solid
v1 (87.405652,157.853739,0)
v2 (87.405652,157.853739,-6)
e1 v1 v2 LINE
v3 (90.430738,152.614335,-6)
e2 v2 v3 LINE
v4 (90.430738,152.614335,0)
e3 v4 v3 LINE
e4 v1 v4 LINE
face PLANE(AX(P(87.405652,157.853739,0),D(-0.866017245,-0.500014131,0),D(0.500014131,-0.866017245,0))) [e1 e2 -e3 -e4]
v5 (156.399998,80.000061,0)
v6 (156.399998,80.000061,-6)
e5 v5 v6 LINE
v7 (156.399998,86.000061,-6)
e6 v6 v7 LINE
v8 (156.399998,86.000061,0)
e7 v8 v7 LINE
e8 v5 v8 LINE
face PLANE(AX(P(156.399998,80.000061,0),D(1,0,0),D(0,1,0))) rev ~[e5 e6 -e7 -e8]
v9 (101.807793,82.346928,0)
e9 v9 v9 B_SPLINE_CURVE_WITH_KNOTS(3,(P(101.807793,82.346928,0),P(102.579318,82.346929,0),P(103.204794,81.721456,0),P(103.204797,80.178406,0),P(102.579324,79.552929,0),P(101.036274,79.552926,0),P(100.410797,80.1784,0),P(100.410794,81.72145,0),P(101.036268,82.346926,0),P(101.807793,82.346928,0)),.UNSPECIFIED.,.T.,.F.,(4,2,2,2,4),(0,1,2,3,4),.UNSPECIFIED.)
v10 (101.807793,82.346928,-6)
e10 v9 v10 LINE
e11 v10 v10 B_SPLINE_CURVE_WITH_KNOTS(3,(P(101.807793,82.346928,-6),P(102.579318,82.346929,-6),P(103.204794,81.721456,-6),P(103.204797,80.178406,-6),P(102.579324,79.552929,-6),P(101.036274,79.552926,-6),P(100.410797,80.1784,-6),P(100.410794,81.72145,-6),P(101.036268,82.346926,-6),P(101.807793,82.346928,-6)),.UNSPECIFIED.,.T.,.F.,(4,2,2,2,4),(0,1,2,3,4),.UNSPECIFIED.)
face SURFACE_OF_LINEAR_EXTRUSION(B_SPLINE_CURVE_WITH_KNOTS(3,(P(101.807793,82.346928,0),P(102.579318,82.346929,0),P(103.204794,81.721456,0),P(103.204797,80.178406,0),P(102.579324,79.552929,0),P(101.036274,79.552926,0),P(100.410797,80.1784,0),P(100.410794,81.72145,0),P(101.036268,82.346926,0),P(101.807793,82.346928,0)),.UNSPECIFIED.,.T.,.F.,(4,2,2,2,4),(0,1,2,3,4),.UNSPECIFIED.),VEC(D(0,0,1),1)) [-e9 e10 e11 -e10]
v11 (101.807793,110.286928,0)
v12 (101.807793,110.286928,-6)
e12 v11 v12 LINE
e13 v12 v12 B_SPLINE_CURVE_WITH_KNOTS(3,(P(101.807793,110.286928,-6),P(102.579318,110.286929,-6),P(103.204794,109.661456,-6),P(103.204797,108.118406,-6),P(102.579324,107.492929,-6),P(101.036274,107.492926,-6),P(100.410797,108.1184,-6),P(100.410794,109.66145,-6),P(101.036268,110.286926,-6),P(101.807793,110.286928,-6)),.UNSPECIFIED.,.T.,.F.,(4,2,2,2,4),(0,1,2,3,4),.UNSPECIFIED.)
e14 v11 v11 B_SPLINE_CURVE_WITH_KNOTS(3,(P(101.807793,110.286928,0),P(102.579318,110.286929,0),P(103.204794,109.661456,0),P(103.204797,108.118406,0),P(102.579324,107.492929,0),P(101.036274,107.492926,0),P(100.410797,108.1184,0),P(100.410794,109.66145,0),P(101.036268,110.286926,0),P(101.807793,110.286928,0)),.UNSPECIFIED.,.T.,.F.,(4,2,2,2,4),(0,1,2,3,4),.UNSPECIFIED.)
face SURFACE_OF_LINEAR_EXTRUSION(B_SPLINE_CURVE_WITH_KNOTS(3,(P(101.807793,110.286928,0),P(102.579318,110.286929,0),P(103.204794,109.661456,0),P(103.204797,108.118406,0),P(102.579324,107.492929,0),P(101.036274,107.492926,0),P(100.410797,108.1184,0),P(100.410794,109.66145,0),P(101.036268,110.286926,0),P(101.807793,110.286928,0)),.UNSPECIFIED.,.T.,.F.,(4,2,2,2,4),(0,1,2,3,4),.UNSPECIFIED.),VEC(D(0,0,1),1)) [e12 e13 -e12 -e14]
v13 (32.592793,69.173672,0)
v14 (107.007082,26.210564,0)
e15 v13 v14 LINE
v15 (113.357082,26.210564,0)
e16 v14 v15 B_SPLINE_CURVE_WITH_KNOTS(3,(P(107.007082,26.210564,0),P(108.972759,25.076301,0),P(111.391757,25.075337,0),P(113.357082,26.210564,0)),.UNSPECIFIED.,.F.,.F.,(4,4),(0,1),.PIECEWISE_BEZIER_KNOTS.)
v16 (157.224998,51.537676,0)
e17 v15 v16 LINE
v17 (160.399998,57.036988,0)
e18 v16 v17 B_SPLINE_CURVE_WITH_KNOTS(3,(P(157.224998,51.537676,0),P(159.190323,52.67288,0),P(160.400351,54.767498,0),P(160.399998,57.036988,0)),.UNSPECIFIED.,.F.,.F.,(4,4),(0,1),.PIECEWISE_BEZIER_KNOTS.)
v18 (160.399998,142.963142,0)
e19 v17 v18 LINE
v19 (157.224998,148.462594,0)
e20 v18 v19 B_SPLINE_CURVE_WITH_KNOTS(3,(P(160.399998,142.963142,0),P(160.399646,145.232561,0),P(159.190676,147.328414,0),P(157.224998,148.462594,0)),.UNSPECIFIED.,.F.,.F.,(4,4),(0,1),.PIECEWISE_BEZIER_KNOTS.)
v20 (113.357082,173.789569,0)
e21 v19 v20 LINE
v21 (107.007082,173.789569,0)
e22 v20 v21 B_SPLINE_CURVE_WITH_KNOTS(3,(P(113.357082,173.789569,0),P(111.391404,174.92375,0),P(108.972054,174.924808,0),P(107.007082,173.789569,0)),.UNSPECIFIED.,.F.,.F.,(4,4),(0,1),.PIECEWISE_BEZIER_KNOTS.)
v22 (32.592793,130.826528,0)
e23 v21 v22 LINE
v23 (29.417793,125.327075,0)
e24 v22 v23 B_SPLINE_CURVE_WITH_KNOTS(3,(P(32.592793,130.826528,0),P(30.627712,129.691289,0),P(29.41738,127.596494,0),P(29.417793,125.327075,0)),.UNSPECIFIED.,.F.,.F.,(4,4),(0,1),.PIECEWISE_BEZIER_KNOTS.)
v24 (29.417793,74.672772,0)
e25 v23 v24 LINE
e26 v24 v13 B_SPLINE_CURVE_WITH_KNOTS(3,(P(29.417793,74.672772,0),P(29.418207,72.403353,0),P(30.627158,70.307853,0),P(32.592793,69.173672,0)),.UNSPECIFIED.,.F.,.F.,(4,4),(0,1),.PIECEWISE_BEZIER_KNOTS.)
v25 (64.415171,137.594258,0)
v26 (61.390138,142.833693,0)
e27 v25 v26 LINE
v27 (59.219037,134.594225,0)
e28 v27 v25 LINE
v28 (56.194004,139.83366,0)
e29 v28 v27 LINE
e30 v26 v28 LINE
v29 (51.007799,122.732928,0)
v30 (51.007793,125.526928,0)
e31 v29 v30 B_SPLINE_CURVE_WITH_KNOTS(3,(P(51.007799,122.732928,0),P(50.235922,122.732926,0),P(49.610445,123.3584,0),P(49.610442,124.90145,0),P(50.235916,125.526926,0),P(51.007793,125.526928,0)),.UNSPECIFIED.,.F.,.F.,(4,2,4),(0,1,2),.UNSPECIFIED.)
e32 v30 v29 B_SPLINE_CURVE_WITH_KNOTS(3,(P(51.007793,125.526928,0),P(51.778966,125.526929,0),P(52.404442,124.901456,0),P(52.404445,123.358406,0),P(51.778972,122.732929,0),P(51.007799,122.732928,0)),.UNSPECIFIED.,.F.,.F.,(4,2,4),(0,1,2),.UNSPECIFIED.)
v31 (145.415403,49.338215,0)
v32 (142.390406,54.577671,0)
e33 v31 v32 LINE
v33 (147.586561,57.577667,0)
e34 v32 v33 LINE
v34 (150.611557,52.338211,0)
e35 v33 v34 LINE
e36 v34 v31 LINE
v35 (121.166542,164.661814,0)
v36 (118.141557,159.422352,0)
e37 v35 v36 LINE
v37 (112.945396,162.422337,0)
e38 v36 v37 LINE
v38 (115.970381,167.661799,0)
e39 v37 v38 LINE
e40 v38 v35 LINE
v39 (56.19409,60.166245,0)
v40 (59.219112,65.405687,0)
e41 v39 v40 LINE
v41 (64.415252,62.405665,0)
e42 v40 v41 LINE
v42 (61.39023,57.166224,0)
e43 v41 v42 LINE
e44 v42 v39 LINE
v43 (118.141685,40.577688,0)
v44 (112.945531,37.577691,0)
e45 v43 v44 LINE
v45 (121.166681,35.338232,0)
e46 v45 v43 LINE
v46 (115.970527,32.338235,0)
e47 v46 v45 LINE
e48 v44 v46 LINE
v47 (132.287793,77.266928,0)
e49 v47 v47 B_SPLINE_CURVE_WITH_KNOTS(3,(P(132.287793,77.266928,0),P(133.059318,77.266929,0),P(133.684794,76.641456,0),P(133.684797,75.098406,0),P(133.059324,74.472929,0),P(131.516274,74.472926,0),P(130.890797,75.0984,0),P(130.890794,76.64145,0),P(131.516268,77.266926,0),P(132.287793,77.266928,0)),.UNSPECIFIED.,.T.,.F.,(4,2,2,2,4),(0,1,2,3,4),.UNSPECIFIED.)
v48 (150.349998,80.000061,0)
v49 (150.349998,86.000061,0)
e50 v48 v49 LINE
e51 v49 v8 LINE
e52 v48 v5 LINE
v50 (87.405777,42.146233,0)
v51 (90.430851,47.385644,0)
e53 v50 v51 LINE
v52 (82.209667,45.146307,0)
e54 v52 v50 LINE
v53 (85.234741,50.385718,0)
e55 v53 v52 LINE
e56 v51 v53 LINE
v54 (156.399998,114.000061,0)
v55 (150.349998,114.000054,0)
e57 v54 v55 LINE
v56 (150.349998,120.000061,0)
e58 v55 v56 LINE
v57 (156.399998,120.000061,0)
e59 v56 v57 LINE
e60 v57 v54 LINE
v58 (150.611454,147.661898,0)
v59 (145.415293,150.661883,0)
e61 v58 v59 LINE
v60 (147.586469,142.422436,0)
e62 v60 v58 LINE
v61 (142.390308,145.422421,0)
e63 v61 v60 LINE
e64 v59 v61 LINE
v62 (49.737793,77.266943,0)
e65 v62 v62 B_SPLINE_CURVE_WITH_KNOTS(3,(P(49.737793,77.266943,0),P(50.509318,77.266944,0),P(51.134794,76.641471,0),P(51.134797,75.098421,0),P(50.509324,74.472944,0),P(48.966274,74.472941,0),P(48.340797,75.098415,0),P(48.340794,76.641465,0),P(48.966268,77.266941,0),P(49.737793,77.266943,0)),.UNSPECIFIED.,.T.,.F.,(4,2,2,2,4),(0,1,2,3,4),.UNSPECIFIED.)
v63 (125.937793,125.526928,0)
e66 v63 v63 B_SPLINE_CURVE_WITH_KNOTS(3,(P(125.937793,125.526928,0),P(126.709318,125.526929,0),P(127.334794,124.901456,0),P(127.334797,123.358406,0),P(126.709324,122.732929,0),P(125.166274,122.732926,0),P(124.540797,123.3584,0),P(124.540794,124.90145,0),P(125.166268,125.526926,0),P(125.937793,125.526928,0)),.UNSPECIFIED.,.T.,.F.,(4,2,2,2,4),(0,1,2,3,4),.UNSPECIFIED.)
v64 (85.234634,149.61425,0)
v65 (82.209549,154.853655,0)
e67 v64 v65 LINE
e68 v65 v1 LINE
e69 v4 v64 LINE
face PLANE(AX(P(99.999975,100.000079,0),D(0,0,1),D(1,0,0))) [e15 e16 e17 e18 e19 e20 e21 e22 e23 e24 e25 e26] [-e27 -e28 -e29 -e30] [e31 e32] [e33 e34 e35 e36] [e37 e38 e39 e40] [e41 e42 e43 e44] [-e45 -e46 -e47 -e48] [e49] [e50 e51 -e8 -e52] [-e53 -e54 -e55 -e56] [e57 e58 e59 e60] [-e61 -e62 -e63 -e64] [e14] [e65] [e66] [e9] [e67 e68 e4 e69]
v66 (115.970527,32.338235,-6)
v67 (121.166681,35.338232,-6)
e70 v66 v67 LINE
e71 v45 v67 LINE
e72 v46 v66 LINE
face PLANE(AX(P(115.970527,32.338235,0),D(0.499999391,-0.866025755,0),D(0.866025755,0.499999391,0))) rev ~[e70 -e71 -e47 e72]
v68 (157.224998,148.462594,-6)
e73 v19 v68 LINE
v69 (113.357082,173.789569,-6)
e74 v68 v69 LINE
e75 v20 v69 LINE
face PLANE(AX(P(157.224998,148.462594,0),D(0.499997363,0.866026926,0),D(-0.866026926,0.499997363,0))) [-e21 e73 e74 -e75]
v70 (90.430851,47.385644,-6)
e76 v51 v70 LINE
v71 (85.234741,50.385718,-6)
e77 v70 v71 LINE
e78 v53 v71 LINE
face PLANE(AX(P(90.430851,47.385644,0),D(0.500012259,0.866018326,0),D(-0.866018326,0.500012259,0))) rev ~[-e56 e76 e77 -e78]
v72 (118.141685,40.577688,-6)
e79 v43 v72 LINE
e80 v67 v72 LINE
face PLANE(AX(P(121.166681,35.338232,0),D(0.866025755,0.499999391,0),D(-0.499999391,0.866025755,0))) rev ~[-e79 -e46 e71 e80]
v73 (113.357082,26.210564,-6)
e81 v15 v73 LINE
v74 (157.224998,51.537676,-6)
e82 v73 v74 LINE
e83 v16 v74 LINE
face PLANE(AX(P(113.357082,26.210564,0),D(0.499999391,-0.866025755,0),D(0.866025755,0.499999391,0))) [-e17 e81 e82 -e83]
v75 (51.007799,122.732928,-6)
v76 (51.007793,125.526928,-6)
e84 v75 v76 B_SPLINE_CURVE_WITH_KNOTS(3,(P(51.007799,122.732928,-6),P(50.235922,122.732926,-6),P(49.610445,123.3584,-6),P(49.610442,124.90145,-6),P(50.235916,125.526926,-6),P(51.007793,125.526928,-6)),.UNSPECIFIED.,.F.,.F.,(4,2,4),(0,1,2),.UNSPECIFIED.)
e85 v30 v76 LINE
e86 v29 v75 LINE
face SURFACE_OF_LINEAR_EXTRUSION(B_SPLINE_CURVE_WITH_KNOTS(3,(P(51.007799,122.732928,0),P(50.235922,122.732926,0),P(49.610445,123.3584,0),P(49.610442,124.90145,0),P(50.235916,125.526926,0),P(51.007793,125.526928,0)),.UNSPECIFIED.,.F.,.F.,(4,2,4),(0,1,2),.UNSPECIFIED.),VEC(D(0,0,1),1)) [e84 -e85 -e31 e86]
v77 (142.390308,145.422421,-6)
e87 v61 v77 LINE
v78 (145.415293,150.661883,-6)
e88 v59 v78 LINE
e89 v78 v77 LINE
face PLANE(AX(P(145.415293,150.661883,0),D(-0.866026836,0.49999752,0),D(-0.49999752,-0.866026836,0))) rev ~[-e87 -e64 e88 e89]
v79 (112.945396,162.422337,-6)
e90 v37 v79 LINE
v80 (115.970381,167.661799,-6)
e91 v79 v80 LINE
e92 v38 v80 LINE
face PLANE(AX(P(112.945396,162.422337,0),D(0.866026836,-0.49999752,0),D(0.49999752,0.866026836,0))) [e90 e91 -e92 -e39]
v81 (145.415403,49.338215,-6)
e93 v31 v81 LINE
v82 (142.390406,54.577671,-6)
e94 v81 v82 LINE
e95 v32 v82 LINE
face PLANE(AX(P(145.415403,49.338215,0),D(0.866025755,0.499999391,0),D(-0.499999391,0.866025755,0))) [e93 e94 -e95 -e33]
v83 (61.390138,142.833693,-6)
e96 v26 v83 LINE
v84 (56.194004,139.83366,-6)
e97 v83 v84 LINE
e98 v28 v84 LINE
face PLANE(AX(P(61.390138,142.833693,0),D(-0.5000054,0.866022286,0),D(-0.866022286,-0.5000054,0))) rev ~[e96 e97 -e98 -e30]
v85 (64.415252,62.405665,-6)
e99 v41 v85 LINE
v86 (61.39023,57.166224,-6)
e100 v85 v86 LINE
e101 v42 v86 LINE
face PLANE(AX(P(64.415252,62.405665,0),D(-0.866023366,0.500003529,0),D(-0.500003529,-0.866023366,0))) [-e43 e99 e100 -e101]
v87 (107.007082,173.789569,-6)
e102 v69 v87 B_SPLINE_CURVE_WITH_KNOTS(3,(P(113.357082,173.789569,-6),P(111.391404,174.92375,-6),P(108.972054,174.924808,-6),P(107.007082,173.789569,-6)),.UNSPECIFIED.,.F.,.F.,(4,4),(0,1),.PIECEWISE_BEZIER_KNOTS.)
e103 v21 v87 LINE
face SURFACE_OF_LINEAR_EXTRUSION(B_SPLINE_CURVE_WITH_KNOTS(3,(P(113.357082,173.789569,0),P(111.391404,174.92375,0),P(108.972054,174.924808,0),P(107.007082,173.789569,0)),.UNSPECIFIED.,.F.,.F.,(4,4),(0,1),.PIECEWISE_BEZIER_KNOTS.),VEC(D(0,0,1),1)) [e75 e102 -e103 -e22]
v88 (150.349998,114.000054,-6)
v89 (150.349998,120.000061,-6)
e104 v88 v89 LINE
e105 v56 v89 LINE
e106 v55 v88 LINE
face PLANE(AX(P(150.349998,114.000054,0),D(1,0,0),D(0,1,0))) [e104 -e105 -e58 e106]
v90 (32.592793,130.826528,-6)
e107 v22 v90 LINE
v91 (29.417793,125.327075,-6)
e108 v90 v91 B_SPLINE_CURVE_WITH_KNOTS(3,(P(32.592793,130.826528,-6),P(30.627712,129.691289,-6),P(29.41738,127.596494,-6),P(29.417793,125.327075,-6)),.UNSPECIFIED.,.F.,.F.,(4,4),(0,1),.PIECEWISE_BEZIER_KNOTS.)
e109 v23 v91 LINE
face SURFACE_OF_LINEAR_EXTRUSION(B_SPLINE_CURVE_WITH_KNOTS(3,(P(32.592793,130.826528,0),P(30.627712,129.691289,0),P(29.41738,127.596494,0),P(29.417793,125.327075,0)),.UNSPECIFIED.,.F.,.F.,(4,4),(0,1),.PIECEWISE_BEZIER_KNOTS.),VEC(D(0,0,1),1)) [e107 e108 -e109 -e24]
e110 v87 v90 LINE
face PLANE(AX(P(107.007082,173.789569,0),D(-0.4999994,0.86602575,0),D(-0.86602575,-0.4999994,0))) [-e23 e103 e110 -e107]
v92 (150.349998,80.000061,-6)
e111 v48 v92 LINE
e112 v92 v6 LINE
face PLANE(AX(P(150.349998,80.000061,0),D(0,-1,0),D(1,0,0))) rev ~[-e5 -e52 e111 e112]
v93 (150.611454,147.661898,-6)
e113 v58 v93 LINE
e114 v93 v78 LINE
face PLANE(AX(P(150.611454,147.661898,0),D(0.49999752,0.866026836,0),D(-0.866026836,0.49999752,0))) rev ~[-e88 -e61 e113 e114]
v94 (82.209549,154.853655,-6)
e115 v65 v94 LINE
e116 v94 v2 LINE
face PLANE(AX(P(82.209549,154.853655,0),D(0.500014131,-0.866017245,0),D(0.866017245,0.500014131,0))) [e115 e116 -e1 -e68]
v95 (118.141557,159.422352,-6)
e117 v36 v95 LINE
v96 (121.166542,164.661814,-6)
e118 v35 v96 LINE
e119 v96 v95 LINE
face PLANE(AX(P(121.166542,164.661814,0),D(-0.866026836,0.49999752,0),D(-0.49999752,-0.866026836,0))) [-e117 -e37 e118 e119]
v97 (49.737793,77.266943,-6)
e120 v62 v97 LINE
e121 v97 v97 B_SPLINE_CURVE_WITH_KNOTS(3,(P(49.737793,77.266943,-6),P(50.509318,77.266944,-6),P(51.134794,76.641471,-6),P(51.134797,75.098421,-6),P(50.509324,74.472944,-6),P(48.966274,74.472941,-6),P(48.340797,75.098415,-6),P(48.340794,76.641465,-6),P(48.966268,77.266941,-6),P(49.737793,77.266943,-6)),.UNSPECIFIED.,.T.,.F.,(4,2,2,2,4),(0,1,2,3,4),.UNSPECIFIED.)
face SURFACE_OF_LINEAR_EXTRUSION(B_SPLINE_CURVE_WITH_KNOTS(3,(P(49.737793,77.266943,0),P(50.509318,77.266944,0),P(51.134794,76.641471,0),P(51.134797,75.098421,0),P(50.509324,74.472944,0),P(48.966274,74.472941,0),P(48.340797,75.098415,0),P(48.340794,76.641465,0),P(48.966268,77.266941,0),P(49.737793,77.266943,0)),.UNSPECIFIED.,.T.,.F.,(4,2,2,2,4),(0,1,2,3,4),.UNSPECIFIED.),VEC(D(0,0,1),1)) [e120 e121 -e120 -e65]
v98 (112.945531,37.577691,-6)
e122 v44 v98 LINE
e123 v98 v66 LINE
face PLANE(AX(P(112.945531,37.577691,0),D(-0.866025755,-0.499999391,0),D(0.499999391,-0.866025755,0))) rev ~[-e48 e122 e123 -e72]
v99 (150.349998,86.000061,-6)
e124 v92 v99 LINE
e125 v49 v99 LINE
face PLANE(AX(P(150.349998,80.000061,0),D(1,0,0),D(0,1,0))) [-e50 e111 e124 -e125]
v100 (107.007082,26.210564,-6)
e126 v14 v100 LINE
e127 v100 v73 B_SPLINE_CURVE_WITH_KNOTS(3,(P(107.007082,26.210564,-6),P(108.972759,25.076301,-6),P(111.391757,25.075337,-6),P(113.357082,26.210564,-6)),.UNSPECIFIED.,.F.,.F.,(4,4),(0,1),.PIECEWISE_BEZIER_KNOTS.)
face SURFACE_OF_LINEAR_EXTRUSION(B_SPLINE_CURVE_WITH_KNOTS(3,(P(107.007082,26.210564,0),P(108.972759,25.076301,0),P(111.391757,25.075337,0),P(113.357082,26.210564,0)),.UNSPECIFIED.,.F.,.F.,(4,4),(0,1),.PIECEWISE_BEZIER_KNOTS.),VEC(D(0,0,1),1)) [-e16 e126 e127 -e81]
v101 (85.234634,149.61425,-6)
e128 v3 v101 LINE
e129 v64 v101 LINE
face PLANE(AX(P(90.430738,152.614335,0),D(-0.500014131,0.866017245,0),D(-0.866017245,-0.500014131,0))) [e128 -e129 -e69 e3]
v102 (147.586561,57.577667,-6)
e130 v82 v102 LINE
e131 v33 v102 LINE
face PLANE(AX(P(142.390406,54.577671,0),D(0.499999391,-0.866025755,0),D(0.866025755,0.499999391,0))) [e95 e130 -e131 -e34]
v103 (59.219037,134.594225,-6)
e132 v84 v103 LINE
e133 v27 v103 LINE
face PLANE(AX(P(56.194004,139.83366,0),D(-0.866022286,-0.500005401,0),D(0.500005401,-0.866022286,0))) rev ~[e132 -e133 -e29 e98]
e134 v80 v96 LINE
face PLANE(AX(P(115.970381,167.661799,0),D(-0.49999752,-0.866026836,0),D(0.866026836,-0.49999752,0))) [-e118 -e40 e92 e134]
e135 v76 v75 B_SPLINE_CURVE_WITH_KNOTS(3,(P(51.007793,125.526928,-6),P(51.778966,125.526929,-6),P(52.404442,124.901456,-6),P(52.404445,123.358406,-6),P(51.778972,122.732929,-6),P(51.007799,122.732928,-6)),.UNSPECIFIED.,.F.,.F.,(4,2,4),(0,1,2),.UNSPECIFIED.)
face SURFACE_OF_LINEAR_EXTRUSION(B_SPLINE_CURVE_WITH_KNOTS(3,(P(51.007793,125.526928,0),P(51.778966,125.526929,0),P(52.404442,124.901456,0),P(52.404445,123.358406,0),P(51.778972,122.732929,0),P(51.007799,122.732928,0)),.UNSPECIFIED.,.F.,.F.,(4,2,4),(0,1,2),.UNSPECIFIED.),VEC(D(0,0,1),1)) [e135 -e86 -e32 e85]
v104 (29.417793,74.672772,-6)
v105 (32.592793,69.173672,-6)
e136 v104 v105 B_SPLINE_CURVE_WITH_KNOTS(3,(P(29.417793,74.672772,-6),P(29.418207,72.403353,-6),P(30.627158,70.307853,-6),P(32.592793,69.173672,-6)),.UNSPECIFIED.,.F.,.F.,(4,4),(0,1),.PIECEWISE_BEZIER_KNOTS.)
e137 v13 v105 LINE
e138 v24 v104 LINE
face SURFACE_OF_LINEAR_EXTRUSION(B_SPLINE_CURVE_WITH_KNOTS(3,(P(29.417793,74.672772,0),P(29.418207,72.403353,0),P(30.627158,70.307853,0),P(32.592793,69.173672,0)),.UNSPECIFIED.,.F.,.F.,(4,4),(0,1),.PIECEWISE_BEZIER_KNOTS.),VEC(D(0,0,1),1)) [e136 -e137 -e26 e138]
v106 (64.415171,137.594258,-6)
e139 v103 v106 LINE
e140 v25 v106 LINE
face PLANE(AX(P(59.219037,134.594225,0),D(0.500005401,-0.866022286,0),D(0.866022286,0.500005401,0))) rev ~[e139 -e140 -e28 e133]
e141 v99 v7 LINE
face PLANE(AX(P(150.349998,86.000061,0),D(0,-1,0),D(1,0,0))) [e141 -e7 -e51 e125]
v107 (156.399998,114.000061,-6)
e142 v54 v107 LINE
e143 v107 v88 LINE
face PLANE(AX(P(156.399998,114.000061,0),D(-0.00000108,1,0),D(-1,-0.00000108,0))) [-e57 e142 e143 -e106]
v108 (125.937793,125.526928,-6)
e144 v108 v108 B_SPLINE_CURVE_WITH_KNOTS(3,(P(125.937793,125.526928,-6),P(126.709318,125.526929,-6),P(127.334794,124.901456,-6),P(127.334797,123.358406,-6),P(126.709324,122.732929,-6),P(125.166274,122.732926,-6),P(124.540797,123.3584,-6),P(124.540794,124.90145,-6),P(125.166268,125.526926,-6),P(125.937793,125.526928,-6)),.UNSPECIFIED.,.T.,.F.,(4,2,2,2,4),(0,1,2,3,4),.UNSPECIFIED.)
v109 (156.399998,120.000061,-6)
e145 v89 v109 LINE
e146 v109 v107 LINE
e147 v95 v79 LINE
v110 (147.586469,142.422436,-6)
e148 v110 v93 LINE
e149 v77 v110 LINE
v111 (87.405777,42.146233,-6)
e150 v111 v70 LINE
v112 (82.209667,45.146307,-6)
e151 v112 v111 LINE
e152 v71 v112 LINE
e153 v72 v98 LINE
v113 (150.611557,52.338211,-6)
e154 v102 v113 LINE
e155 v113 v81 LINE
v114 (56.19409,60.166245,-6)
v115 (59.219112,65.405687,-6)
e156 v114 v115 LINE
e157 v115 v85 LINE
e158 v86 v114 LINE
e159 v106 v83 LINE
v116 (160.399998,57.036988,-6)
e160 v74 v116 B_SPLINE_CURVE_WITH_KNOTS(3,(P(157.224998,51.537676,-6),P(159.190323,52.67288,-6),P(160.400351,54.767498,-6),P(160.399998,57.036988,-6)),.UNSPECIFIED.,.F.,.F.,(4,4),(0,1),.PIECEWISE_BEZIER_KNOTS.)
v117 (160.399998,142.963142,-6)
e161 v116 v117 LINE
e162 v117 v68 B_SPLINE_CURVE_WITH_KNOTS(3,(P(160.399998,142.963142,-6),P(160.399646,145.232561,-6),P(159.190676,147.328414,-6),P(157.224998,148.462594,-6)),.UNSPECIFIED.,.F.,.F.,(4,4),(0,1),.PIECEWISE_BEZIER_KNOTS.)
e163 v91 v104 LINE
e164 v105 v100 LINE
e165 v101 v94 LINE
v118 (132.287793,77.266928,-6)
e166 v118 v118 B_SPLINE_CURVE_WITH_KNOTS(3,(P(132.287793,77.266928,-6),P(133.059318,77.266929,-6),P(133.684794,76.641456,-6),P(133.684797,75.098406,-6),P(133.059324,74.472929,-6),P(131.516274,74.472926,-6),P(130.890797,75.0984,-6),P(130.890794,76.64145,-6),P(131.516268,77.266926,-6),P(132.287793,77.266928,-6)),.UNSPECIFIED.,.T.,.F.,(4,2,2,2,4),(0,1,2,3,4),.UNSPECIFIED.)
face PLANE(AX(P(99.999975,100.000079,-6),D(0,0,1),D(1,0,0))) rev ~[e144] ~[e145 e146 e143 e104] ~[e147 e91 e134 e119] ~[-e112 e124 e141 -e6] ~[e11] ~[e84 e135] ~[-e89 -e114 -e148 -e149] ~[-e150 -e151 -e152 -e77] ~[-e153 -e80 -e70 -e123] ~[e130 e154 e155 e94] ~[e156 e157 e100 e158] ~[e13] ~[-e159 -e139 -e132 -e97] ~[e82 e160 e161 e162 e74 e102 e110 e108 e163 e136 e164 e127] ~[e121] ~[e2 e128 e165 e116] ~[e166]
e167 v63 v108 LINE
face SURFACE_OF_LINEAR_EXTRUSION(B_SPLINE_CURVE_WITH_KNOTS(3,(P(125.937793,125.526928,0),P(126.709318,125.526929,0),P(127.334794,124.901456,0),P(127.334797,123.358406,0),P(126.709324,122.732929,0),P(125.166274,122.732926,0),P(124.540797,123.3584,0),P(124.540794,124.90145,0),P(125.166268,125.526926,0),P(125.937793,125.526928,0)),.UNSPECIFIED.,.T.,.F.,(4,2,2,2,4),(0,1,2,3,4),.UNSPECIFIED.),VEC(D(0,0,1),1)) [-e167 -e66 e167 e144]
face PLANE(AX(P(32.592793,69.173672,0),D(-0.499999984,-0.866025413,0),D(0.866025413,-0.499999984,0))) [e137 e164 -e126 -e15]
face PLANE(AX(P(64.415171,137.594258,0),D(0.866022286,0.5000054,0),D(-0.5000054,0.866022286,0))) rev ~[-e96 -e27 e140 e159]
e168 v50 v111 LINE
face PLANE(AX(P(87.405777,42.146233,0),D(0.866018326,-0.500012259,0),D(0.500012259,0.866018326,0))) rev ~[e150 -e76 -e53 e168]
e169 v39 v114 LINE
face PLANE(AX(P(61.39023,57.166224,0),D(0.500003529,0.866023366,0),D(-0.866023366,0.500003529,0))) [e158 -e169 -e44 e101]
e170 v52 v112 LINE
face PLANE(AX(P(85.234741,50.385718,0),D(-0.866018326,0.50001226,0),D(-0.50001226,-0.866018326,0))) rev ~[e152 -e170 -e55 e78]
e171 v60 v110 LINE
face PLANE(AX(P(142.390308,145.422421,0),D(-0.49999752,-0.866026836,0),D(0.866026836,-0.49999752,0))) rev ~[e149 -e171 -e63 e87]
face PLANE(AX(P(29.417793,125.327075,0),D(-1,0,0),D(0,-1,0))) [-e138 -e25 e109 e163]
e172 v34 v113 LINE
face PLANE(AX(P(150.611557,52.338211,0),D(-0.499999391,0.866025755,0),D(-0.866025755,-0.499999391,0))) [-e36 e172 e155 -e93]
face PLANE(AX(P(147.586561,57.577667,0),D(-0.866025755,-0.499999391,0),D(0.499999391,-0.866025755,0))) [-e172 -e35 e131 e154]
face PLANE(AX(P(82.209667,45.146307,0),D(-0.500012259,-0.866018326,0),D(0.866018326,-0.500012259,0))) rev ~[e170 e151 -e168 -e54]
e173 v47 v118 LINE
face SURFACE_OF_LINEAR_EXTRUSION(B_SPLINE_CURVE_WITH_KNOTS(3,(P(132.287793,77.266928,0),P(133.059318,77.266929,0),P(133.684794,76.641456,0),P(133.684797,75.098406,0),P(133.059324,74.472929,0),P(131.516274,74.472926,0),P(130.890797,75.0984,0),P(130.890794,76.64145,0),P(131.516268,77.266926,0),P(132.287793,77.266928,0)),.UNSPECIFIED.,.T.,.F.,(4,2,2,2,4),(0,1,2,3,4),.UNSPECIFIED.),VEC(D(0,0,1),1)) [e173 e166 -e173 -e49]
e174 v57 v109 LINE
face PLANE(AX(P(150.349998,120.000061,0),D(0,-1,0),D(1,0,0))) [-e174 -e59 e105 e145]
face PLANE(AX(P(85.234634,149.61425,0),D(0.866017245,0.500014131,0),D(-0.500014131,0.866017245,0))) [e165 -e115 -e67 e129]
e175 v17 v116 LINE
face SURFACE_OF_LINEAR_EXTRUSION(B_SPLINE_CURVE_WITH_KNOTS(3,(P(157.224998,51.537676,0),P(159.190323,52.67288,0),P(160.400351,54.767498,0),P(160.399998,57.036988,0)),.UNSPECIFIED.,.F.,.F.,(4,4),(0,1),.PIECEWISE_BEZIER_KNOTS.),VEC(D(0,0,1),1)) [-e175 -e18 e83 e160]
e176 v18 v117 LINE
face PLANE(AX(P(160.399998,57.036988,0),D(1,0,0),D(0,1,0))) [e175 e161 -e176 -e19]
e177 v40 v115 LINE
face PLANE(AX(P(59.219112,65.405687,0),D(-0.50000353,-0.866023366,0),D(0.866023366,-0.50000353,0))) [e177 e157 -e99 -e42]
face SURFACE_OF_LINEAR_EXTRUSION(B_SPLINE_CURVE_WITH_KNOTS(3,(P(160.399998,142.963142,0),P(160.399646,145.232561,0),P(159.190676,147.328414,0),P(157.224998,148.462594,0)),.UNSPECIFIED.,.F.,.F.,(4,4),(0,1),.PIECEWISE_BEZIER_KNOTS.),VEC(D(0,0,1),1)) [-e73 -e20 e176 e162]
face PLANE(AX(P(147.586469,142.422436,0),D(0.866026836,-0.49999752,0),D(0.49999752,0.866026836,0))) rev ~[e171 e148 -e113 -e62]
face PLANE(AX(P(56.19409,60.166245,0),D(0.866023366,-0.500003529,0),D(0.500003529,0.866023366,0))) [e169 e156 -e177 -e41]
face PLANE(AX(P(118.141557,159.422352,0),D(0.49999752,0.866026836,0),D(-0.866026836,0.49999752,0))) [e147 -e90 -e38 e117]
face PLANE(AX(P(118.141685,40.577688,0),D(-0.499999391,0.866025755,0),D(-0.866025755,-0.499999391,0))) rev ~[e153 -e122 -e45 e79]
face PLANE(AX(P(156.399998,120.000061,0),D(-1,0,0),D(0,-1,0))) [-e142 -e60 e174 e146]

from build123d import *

# Parameters (mm, degrees)
CORTE_W                 = 6.05
CORTE_H                 = 6
SALIENTE_EXTRUIR1_DEPTH = 6


with BuildPart() as part:
    # Corte → Saliente-Extruir1 (new body)
    with BuildSketch(Plane.XY):
        with BuildLine():
            Line((113.357081542, 26.21056425), (157.224997542, 51.53767625))
            add(Edge.make_bspline(
                [(157.224997542, 51.53767625), (159.190322542, 52.67288025), (160.400350542, 54.76749825), (160.399997542, 57.03698825)],
                knots=[0, 0, 0, 0, 1, 1, 1, 1], degree=3))
            Line((160.399997542, 57.03698825), (160.399997542, 142.96314225))
            add(Edge.make_bspline(
                [(160.399997542, 142.96314225), (160.399645542, 145.23256125), (159.190675542, 147.32841425), (157.224997542, 148.46259425)],
                knots=[0, 0, 0, 0, 1, 1, 1, 1], degree=3))
            Line((157.224997542, 148.46259425), (113.357081542, 173.78956925))
            add(Edge.make_bspline(
                [(113.357081542, 173.78956925), (111.391403542, 174.92375025), (108.972053542, 174.92480825), (107.007081542, 173.78956925)],
                knots=[0, 0, 0, 0, 1, 1, 1, 1], degree=3))
            Line((107.007081542, 173.78956925), (32.592792542, 130.82652825))
            add(Edge.make_bspline(
                [(32.592792542, 130.82652825), (30.627711542, 129.69128925), (29.417379542, 127.59649425), (29.417792542, 125.32707525)],
                knots=[0, 0, 0, 0, 1, 1, 1, 1], degree=3))
            Line((29.417792542, 125.32707525), (29.417792542, 74.67277225))
            add(Edge.make_bspline(
                [(29.417792542, 74.67277225), (29.418206542, 72.40335325), (30.627157542, 70.30785325), (32.592792542, 69.17367225)],
                knots=[0, 0, 0, 0, 1, 1, 1, 1], degree=3))
            Line((32.592792542, 69.17367225), (107.007081542, 26.21056425))
            add(Edge.make_bspline(
                [(107.007081542, 26.21056425), (108.972758542, 25.07630125), (111.391756542, 25.07533725), (113.357081542, 26.21056425)],
                knots=[0, 0, 0, 0, 1, 1, 1, 1], degree=3))
        make_face()
        Polygon((82.209667177, 45.146306921), (87.405777131, 42.146233364), (90.430851301, 47.385644235), (85.234741347, 50.385717791), align=None, mode=Mode.SUBTRACT)
        Polygon((59.219111627, 65.405686508), (64.415251823, 62.405665331), (61.39023047, 57.166223967), (56.194090274, 60.166245143), align=None, mode=Mode.SUBTRACT)
        Polygon((115.970526872, 32.338235445), (121.166681404, 35.338231793), (118.141685086, 40.577687612), (112.945530555, 37.577691264), align=None, mode=Mode.SUBTRACT)
        Polygon((147.586560764, 57.577666916), (150.611557081, 52.338211097), (145.41540255, 49.338214749), (142.390406233, 54.577670568), align=None, mode=Mode.SUBTRACT)
        Polygon((59.219036883, 134.594225381), (64.415170597, 137.594257784), (61.390137924, 142.833692613), (56.194004209, 139.83366021), align=None, mode=Mode.SUBTRACT)
        Polygon((82.20954866, 154.853654641), (87.405652132, 157.853739425), (90.430737623, 152.61433509), (85.234634151, 149.614250307), align=None, mode=Mode.SUBTRACT)
        Polygon((112.945395686, 162.422336706), (115.970380683, 167.661799061), (121.166541696, 164.66181394), (118.141556699, 159.422351585), align=None, mode=Mode.SUBTRACT)
        Polygon((147.586469106, 142.422435899), (150.611454103, 147.661898254), (145.41529309, 150.661883375), (142.390308093, 145.42242102), align=None, mode=Mode.SUBTRACT)
        with Locations((153.374997542, 83.000060929)):
            Rectangle(CORTE_W, CORTE_H, mode=Mode.SUBTRACT)
        Polygon((150.349997542, 120.000060929), (156.399997542, 120.000060929), (156.399997542, 114.000060929), (150.349997542, 114.000054393), align=None, mode=Mode.SUBTRACT)
        with BuildLine():
            add(Edge.make_bspline(
                [(51.13479556, 75.869945702), (51.134797227, 75.098420702), (50.509323579, 74.47294435), (49.737798579, 74.472942683)],
                knots=[0, 0, 0, 0, 1, 1, 1, 1], degree=3))
            add(Edge.make_bspline(
                [(49.737798579, 74.472942683), (48.966273579, 74.472941016), (48.340797227, 75.098414665), (48.34079556, 75.869939665)],
                knots=[0, 0, 0, 0, 1, 1, 1, 1], degree=3))
            add(Edge.make_bspline(
                [(48.34079556, 75.869939665), (48.340793893, 76.641464665), (48.966267542, 77.266941016), (49.737792542, 77.266942683)],
                knots=[0, 0, 0, 0, 1, 1, 1, 1], degree=3))
            add(Edge.make_bspline(
                [(49.737792542, 77.266942683), (50.509317542, 77.26694435), (51.134793893, 76.641470702), (51.13479556, 75.869945702)],
                knots=[0, 0, 0, 0, 1, 1, 1, 1], degree=3))
        make_face(mode=Mode.SUBTRACT)
        with BuildLine():
            add(Edge.make_bspline(
                [(52.40444356, 124.12993061), (52.404445227, 123.35840561), (51.778971579, 122.732929259), (51.007798579, 122.732927592)],
                knots=[0, 0, 0, 0, 1, 1, 1, 1], degree=3))
            add(Edge.make_bspline(
                [(51.007798579, 122.732927592), (50.235921579, 122.732925925), (49.610445227, 123.358399573), (49.61044356, 124.129924573)],
                knots=[0, 0, 0, 0, 1, 1, 1, 1], degree=3))
            add(Edge.make_bspline(
                [(49.61044356, 124.129924573), (49.610441893, 124.901449573), (50.235915542, 125.526925925), (51.007792542, 125.526927592)],
                knots=[0, 0, 0, 0, 1, 1, 1, 1], degree=3))
            add(Edge.make_bspline(
                [(51.007792542, 125.526927592), (51.778965542, 125.526929259), (52.404441893, 124.90145561), (52.40444356, 124.12993061)],
                knots=[0, 0, 0, 0, 1, 1, 1, 1], degree=3))
        make_face(mode=Mode.SUBTRACT)
        with BuildLine():
            add(Edge.make_bspline(
                [(103.20479556, 108.88993061), (103.204797227, 108.11840561), (102.579323579, 107.492929259), (101.807798579, 107.492927592)],
                knots=[0, 0, 0, 0, 1, 1, 1, 1], degree=3))
            add(Edge.make_bspline(
                [(101.807798579, 107.492927592), (101.036273579, 107.492925925), (100.410797227, 108.118399573), (100.41079556, 108.889924573)],
                knots=[0, 0, 0, 0, 1, 1, 1, 1], degree=3))
            add(Edge.make_bspline(
                [(100.41079556, 108.889924573), (100.410793893, 109.661449573), (101.036267542, 110.286925925), (101.807792542, 110.286927592)],
                knots=[0, 0, 0, 0, 1, 1, 1, 1], degree=3))
            add(Edge.make_bspline(
                [(101.807792542, 110.286927592), (102.579317542, 110.286929259), (103.204793893, 109.66145561), (103.20479556, 108.88993061)],
                knots=[0, 0, 0, 0, 1, 1, 1, 1], degree=3))
        make_face(mode=Mode.SUBTRACT)
        with BuildLine():
            add(Edge.make_bspline(
                [(103.20479556, 80.94993061), (103.204797227, 80.17840561), (102.579323579, 79.552929259), (101.807798579, 79.552927592)],
                knots=[0, 0, 0, 0, 1, 1, 1, 1], degree=3))
            add(Edge.make_bspline(
                [(101.807798579, 79.552927592), (101.036273579, 79.552925925), (100.410797227, 80.178399573), (100.41079556, 80.949924573)],
                knots=[0, 0, 0, 0, 1, 1, 1, 1], degree=3))
            add(Edge.make_bspline(
                [(100.41079556, 80.949924573), (100.410793893, 81.721449573), (101.036267542, 82.346925925), (101.807792542, 82.346927592)],
                knots=[0, 0, 0, 0, 1, 1, 1, 1], degree=3))
            add(Edge.make_bspline(
                [(101.807792542, 82.346927592), (102.579317542, 82.346929259), (103.204793893, 81.72145561), (103.20479556, 80.94993061)],
                knots=[0, 0, 0, 0, 1, 1, 1, 1], degree=3))
        make_face(mode=Mode.SUBTRACT)
        with BuildLine():
            add(Edge.make_bspline(
                [(133.68479556, 75.86993061), (133.684797227, 75.09840561), (133.059323579, 74.472929259), (132.287798579, 74.472927592)],
                knots=[0, 0, 0, 0, 1, 1, 1, 1], degree=3))
            add(Edge.make_bspline(
                [(132.287798579, 74.472927592), (131.516273579, 74.472925925), (130.890797227, 75.098399573), (130.89079556, 75.869924573)],
                knots=[0, 0, 0, 0, 1, 1, 1, 1], degree=3))
            add(Edge.make_bspline(
                [(130.89079556, 75.869924573), (130.890793893, 76.641449573), (131.516267542, 77.266925925), (132.287792542, 77.266927592)],
                knots=[0, 0, 0, 0, 1, 1, 1, 1], degree=3))
            add(Edge.make_bspline(
                [(132.287792542, 77.266927592), (133.059317542, 77.266929259), (133.684793893, 76.64145561), (133.68479556, 75.86993061)],
                knots=[0, 0, 0, 0, 1, 1, 1, 1], degree=3))
        make_face(mode=Mode.SUBTRACT)
        with BuildLine():
            add(Edge.make_bspline(
                [(127.33479556, 124.12993061), (127.334797227, 123.35840561), (126.709323579, 122.732929259), (125.937798579, 122.732927592)],
                knots=[0, 0, 0, 0, 1, 1, 1, 1], degree=3))
            add(Edge.make_bspline(
                [(125.937798579, 122.732927592), (125.166273579, 122.732925925), (124.540797227, 123.358399573), (124.54079556, 124.129924573)],
                knots=[0, 0, 0, 0, 1, 1, 1, 1], degree=3))
            add(Edge.make_bspline(
                [(124.54079556, 124.129924573), (124.540793893, 124.901449573), (125.166267542, 125.526925925), (125.937792542, 125.526927592)],
                knots=[0, 0, 0, 0, 1, 1, 1, 1], degree=3))
            add(Edge.make_bspline(
                [(125.937792542, 125.526927592), (126.709317542, 125.526929259), (127.334793893, 124.90145561), (127.33479556, 124.12993061)],
                knots=[0, 0, 0, 0, 1, 1, 1, 1], degree=3))
        make_face(mode=Mode.SUBTRACT)
    extrude(amount=-SALIENTE_EXTRUIR1_DEPTH)


solid = part.part
